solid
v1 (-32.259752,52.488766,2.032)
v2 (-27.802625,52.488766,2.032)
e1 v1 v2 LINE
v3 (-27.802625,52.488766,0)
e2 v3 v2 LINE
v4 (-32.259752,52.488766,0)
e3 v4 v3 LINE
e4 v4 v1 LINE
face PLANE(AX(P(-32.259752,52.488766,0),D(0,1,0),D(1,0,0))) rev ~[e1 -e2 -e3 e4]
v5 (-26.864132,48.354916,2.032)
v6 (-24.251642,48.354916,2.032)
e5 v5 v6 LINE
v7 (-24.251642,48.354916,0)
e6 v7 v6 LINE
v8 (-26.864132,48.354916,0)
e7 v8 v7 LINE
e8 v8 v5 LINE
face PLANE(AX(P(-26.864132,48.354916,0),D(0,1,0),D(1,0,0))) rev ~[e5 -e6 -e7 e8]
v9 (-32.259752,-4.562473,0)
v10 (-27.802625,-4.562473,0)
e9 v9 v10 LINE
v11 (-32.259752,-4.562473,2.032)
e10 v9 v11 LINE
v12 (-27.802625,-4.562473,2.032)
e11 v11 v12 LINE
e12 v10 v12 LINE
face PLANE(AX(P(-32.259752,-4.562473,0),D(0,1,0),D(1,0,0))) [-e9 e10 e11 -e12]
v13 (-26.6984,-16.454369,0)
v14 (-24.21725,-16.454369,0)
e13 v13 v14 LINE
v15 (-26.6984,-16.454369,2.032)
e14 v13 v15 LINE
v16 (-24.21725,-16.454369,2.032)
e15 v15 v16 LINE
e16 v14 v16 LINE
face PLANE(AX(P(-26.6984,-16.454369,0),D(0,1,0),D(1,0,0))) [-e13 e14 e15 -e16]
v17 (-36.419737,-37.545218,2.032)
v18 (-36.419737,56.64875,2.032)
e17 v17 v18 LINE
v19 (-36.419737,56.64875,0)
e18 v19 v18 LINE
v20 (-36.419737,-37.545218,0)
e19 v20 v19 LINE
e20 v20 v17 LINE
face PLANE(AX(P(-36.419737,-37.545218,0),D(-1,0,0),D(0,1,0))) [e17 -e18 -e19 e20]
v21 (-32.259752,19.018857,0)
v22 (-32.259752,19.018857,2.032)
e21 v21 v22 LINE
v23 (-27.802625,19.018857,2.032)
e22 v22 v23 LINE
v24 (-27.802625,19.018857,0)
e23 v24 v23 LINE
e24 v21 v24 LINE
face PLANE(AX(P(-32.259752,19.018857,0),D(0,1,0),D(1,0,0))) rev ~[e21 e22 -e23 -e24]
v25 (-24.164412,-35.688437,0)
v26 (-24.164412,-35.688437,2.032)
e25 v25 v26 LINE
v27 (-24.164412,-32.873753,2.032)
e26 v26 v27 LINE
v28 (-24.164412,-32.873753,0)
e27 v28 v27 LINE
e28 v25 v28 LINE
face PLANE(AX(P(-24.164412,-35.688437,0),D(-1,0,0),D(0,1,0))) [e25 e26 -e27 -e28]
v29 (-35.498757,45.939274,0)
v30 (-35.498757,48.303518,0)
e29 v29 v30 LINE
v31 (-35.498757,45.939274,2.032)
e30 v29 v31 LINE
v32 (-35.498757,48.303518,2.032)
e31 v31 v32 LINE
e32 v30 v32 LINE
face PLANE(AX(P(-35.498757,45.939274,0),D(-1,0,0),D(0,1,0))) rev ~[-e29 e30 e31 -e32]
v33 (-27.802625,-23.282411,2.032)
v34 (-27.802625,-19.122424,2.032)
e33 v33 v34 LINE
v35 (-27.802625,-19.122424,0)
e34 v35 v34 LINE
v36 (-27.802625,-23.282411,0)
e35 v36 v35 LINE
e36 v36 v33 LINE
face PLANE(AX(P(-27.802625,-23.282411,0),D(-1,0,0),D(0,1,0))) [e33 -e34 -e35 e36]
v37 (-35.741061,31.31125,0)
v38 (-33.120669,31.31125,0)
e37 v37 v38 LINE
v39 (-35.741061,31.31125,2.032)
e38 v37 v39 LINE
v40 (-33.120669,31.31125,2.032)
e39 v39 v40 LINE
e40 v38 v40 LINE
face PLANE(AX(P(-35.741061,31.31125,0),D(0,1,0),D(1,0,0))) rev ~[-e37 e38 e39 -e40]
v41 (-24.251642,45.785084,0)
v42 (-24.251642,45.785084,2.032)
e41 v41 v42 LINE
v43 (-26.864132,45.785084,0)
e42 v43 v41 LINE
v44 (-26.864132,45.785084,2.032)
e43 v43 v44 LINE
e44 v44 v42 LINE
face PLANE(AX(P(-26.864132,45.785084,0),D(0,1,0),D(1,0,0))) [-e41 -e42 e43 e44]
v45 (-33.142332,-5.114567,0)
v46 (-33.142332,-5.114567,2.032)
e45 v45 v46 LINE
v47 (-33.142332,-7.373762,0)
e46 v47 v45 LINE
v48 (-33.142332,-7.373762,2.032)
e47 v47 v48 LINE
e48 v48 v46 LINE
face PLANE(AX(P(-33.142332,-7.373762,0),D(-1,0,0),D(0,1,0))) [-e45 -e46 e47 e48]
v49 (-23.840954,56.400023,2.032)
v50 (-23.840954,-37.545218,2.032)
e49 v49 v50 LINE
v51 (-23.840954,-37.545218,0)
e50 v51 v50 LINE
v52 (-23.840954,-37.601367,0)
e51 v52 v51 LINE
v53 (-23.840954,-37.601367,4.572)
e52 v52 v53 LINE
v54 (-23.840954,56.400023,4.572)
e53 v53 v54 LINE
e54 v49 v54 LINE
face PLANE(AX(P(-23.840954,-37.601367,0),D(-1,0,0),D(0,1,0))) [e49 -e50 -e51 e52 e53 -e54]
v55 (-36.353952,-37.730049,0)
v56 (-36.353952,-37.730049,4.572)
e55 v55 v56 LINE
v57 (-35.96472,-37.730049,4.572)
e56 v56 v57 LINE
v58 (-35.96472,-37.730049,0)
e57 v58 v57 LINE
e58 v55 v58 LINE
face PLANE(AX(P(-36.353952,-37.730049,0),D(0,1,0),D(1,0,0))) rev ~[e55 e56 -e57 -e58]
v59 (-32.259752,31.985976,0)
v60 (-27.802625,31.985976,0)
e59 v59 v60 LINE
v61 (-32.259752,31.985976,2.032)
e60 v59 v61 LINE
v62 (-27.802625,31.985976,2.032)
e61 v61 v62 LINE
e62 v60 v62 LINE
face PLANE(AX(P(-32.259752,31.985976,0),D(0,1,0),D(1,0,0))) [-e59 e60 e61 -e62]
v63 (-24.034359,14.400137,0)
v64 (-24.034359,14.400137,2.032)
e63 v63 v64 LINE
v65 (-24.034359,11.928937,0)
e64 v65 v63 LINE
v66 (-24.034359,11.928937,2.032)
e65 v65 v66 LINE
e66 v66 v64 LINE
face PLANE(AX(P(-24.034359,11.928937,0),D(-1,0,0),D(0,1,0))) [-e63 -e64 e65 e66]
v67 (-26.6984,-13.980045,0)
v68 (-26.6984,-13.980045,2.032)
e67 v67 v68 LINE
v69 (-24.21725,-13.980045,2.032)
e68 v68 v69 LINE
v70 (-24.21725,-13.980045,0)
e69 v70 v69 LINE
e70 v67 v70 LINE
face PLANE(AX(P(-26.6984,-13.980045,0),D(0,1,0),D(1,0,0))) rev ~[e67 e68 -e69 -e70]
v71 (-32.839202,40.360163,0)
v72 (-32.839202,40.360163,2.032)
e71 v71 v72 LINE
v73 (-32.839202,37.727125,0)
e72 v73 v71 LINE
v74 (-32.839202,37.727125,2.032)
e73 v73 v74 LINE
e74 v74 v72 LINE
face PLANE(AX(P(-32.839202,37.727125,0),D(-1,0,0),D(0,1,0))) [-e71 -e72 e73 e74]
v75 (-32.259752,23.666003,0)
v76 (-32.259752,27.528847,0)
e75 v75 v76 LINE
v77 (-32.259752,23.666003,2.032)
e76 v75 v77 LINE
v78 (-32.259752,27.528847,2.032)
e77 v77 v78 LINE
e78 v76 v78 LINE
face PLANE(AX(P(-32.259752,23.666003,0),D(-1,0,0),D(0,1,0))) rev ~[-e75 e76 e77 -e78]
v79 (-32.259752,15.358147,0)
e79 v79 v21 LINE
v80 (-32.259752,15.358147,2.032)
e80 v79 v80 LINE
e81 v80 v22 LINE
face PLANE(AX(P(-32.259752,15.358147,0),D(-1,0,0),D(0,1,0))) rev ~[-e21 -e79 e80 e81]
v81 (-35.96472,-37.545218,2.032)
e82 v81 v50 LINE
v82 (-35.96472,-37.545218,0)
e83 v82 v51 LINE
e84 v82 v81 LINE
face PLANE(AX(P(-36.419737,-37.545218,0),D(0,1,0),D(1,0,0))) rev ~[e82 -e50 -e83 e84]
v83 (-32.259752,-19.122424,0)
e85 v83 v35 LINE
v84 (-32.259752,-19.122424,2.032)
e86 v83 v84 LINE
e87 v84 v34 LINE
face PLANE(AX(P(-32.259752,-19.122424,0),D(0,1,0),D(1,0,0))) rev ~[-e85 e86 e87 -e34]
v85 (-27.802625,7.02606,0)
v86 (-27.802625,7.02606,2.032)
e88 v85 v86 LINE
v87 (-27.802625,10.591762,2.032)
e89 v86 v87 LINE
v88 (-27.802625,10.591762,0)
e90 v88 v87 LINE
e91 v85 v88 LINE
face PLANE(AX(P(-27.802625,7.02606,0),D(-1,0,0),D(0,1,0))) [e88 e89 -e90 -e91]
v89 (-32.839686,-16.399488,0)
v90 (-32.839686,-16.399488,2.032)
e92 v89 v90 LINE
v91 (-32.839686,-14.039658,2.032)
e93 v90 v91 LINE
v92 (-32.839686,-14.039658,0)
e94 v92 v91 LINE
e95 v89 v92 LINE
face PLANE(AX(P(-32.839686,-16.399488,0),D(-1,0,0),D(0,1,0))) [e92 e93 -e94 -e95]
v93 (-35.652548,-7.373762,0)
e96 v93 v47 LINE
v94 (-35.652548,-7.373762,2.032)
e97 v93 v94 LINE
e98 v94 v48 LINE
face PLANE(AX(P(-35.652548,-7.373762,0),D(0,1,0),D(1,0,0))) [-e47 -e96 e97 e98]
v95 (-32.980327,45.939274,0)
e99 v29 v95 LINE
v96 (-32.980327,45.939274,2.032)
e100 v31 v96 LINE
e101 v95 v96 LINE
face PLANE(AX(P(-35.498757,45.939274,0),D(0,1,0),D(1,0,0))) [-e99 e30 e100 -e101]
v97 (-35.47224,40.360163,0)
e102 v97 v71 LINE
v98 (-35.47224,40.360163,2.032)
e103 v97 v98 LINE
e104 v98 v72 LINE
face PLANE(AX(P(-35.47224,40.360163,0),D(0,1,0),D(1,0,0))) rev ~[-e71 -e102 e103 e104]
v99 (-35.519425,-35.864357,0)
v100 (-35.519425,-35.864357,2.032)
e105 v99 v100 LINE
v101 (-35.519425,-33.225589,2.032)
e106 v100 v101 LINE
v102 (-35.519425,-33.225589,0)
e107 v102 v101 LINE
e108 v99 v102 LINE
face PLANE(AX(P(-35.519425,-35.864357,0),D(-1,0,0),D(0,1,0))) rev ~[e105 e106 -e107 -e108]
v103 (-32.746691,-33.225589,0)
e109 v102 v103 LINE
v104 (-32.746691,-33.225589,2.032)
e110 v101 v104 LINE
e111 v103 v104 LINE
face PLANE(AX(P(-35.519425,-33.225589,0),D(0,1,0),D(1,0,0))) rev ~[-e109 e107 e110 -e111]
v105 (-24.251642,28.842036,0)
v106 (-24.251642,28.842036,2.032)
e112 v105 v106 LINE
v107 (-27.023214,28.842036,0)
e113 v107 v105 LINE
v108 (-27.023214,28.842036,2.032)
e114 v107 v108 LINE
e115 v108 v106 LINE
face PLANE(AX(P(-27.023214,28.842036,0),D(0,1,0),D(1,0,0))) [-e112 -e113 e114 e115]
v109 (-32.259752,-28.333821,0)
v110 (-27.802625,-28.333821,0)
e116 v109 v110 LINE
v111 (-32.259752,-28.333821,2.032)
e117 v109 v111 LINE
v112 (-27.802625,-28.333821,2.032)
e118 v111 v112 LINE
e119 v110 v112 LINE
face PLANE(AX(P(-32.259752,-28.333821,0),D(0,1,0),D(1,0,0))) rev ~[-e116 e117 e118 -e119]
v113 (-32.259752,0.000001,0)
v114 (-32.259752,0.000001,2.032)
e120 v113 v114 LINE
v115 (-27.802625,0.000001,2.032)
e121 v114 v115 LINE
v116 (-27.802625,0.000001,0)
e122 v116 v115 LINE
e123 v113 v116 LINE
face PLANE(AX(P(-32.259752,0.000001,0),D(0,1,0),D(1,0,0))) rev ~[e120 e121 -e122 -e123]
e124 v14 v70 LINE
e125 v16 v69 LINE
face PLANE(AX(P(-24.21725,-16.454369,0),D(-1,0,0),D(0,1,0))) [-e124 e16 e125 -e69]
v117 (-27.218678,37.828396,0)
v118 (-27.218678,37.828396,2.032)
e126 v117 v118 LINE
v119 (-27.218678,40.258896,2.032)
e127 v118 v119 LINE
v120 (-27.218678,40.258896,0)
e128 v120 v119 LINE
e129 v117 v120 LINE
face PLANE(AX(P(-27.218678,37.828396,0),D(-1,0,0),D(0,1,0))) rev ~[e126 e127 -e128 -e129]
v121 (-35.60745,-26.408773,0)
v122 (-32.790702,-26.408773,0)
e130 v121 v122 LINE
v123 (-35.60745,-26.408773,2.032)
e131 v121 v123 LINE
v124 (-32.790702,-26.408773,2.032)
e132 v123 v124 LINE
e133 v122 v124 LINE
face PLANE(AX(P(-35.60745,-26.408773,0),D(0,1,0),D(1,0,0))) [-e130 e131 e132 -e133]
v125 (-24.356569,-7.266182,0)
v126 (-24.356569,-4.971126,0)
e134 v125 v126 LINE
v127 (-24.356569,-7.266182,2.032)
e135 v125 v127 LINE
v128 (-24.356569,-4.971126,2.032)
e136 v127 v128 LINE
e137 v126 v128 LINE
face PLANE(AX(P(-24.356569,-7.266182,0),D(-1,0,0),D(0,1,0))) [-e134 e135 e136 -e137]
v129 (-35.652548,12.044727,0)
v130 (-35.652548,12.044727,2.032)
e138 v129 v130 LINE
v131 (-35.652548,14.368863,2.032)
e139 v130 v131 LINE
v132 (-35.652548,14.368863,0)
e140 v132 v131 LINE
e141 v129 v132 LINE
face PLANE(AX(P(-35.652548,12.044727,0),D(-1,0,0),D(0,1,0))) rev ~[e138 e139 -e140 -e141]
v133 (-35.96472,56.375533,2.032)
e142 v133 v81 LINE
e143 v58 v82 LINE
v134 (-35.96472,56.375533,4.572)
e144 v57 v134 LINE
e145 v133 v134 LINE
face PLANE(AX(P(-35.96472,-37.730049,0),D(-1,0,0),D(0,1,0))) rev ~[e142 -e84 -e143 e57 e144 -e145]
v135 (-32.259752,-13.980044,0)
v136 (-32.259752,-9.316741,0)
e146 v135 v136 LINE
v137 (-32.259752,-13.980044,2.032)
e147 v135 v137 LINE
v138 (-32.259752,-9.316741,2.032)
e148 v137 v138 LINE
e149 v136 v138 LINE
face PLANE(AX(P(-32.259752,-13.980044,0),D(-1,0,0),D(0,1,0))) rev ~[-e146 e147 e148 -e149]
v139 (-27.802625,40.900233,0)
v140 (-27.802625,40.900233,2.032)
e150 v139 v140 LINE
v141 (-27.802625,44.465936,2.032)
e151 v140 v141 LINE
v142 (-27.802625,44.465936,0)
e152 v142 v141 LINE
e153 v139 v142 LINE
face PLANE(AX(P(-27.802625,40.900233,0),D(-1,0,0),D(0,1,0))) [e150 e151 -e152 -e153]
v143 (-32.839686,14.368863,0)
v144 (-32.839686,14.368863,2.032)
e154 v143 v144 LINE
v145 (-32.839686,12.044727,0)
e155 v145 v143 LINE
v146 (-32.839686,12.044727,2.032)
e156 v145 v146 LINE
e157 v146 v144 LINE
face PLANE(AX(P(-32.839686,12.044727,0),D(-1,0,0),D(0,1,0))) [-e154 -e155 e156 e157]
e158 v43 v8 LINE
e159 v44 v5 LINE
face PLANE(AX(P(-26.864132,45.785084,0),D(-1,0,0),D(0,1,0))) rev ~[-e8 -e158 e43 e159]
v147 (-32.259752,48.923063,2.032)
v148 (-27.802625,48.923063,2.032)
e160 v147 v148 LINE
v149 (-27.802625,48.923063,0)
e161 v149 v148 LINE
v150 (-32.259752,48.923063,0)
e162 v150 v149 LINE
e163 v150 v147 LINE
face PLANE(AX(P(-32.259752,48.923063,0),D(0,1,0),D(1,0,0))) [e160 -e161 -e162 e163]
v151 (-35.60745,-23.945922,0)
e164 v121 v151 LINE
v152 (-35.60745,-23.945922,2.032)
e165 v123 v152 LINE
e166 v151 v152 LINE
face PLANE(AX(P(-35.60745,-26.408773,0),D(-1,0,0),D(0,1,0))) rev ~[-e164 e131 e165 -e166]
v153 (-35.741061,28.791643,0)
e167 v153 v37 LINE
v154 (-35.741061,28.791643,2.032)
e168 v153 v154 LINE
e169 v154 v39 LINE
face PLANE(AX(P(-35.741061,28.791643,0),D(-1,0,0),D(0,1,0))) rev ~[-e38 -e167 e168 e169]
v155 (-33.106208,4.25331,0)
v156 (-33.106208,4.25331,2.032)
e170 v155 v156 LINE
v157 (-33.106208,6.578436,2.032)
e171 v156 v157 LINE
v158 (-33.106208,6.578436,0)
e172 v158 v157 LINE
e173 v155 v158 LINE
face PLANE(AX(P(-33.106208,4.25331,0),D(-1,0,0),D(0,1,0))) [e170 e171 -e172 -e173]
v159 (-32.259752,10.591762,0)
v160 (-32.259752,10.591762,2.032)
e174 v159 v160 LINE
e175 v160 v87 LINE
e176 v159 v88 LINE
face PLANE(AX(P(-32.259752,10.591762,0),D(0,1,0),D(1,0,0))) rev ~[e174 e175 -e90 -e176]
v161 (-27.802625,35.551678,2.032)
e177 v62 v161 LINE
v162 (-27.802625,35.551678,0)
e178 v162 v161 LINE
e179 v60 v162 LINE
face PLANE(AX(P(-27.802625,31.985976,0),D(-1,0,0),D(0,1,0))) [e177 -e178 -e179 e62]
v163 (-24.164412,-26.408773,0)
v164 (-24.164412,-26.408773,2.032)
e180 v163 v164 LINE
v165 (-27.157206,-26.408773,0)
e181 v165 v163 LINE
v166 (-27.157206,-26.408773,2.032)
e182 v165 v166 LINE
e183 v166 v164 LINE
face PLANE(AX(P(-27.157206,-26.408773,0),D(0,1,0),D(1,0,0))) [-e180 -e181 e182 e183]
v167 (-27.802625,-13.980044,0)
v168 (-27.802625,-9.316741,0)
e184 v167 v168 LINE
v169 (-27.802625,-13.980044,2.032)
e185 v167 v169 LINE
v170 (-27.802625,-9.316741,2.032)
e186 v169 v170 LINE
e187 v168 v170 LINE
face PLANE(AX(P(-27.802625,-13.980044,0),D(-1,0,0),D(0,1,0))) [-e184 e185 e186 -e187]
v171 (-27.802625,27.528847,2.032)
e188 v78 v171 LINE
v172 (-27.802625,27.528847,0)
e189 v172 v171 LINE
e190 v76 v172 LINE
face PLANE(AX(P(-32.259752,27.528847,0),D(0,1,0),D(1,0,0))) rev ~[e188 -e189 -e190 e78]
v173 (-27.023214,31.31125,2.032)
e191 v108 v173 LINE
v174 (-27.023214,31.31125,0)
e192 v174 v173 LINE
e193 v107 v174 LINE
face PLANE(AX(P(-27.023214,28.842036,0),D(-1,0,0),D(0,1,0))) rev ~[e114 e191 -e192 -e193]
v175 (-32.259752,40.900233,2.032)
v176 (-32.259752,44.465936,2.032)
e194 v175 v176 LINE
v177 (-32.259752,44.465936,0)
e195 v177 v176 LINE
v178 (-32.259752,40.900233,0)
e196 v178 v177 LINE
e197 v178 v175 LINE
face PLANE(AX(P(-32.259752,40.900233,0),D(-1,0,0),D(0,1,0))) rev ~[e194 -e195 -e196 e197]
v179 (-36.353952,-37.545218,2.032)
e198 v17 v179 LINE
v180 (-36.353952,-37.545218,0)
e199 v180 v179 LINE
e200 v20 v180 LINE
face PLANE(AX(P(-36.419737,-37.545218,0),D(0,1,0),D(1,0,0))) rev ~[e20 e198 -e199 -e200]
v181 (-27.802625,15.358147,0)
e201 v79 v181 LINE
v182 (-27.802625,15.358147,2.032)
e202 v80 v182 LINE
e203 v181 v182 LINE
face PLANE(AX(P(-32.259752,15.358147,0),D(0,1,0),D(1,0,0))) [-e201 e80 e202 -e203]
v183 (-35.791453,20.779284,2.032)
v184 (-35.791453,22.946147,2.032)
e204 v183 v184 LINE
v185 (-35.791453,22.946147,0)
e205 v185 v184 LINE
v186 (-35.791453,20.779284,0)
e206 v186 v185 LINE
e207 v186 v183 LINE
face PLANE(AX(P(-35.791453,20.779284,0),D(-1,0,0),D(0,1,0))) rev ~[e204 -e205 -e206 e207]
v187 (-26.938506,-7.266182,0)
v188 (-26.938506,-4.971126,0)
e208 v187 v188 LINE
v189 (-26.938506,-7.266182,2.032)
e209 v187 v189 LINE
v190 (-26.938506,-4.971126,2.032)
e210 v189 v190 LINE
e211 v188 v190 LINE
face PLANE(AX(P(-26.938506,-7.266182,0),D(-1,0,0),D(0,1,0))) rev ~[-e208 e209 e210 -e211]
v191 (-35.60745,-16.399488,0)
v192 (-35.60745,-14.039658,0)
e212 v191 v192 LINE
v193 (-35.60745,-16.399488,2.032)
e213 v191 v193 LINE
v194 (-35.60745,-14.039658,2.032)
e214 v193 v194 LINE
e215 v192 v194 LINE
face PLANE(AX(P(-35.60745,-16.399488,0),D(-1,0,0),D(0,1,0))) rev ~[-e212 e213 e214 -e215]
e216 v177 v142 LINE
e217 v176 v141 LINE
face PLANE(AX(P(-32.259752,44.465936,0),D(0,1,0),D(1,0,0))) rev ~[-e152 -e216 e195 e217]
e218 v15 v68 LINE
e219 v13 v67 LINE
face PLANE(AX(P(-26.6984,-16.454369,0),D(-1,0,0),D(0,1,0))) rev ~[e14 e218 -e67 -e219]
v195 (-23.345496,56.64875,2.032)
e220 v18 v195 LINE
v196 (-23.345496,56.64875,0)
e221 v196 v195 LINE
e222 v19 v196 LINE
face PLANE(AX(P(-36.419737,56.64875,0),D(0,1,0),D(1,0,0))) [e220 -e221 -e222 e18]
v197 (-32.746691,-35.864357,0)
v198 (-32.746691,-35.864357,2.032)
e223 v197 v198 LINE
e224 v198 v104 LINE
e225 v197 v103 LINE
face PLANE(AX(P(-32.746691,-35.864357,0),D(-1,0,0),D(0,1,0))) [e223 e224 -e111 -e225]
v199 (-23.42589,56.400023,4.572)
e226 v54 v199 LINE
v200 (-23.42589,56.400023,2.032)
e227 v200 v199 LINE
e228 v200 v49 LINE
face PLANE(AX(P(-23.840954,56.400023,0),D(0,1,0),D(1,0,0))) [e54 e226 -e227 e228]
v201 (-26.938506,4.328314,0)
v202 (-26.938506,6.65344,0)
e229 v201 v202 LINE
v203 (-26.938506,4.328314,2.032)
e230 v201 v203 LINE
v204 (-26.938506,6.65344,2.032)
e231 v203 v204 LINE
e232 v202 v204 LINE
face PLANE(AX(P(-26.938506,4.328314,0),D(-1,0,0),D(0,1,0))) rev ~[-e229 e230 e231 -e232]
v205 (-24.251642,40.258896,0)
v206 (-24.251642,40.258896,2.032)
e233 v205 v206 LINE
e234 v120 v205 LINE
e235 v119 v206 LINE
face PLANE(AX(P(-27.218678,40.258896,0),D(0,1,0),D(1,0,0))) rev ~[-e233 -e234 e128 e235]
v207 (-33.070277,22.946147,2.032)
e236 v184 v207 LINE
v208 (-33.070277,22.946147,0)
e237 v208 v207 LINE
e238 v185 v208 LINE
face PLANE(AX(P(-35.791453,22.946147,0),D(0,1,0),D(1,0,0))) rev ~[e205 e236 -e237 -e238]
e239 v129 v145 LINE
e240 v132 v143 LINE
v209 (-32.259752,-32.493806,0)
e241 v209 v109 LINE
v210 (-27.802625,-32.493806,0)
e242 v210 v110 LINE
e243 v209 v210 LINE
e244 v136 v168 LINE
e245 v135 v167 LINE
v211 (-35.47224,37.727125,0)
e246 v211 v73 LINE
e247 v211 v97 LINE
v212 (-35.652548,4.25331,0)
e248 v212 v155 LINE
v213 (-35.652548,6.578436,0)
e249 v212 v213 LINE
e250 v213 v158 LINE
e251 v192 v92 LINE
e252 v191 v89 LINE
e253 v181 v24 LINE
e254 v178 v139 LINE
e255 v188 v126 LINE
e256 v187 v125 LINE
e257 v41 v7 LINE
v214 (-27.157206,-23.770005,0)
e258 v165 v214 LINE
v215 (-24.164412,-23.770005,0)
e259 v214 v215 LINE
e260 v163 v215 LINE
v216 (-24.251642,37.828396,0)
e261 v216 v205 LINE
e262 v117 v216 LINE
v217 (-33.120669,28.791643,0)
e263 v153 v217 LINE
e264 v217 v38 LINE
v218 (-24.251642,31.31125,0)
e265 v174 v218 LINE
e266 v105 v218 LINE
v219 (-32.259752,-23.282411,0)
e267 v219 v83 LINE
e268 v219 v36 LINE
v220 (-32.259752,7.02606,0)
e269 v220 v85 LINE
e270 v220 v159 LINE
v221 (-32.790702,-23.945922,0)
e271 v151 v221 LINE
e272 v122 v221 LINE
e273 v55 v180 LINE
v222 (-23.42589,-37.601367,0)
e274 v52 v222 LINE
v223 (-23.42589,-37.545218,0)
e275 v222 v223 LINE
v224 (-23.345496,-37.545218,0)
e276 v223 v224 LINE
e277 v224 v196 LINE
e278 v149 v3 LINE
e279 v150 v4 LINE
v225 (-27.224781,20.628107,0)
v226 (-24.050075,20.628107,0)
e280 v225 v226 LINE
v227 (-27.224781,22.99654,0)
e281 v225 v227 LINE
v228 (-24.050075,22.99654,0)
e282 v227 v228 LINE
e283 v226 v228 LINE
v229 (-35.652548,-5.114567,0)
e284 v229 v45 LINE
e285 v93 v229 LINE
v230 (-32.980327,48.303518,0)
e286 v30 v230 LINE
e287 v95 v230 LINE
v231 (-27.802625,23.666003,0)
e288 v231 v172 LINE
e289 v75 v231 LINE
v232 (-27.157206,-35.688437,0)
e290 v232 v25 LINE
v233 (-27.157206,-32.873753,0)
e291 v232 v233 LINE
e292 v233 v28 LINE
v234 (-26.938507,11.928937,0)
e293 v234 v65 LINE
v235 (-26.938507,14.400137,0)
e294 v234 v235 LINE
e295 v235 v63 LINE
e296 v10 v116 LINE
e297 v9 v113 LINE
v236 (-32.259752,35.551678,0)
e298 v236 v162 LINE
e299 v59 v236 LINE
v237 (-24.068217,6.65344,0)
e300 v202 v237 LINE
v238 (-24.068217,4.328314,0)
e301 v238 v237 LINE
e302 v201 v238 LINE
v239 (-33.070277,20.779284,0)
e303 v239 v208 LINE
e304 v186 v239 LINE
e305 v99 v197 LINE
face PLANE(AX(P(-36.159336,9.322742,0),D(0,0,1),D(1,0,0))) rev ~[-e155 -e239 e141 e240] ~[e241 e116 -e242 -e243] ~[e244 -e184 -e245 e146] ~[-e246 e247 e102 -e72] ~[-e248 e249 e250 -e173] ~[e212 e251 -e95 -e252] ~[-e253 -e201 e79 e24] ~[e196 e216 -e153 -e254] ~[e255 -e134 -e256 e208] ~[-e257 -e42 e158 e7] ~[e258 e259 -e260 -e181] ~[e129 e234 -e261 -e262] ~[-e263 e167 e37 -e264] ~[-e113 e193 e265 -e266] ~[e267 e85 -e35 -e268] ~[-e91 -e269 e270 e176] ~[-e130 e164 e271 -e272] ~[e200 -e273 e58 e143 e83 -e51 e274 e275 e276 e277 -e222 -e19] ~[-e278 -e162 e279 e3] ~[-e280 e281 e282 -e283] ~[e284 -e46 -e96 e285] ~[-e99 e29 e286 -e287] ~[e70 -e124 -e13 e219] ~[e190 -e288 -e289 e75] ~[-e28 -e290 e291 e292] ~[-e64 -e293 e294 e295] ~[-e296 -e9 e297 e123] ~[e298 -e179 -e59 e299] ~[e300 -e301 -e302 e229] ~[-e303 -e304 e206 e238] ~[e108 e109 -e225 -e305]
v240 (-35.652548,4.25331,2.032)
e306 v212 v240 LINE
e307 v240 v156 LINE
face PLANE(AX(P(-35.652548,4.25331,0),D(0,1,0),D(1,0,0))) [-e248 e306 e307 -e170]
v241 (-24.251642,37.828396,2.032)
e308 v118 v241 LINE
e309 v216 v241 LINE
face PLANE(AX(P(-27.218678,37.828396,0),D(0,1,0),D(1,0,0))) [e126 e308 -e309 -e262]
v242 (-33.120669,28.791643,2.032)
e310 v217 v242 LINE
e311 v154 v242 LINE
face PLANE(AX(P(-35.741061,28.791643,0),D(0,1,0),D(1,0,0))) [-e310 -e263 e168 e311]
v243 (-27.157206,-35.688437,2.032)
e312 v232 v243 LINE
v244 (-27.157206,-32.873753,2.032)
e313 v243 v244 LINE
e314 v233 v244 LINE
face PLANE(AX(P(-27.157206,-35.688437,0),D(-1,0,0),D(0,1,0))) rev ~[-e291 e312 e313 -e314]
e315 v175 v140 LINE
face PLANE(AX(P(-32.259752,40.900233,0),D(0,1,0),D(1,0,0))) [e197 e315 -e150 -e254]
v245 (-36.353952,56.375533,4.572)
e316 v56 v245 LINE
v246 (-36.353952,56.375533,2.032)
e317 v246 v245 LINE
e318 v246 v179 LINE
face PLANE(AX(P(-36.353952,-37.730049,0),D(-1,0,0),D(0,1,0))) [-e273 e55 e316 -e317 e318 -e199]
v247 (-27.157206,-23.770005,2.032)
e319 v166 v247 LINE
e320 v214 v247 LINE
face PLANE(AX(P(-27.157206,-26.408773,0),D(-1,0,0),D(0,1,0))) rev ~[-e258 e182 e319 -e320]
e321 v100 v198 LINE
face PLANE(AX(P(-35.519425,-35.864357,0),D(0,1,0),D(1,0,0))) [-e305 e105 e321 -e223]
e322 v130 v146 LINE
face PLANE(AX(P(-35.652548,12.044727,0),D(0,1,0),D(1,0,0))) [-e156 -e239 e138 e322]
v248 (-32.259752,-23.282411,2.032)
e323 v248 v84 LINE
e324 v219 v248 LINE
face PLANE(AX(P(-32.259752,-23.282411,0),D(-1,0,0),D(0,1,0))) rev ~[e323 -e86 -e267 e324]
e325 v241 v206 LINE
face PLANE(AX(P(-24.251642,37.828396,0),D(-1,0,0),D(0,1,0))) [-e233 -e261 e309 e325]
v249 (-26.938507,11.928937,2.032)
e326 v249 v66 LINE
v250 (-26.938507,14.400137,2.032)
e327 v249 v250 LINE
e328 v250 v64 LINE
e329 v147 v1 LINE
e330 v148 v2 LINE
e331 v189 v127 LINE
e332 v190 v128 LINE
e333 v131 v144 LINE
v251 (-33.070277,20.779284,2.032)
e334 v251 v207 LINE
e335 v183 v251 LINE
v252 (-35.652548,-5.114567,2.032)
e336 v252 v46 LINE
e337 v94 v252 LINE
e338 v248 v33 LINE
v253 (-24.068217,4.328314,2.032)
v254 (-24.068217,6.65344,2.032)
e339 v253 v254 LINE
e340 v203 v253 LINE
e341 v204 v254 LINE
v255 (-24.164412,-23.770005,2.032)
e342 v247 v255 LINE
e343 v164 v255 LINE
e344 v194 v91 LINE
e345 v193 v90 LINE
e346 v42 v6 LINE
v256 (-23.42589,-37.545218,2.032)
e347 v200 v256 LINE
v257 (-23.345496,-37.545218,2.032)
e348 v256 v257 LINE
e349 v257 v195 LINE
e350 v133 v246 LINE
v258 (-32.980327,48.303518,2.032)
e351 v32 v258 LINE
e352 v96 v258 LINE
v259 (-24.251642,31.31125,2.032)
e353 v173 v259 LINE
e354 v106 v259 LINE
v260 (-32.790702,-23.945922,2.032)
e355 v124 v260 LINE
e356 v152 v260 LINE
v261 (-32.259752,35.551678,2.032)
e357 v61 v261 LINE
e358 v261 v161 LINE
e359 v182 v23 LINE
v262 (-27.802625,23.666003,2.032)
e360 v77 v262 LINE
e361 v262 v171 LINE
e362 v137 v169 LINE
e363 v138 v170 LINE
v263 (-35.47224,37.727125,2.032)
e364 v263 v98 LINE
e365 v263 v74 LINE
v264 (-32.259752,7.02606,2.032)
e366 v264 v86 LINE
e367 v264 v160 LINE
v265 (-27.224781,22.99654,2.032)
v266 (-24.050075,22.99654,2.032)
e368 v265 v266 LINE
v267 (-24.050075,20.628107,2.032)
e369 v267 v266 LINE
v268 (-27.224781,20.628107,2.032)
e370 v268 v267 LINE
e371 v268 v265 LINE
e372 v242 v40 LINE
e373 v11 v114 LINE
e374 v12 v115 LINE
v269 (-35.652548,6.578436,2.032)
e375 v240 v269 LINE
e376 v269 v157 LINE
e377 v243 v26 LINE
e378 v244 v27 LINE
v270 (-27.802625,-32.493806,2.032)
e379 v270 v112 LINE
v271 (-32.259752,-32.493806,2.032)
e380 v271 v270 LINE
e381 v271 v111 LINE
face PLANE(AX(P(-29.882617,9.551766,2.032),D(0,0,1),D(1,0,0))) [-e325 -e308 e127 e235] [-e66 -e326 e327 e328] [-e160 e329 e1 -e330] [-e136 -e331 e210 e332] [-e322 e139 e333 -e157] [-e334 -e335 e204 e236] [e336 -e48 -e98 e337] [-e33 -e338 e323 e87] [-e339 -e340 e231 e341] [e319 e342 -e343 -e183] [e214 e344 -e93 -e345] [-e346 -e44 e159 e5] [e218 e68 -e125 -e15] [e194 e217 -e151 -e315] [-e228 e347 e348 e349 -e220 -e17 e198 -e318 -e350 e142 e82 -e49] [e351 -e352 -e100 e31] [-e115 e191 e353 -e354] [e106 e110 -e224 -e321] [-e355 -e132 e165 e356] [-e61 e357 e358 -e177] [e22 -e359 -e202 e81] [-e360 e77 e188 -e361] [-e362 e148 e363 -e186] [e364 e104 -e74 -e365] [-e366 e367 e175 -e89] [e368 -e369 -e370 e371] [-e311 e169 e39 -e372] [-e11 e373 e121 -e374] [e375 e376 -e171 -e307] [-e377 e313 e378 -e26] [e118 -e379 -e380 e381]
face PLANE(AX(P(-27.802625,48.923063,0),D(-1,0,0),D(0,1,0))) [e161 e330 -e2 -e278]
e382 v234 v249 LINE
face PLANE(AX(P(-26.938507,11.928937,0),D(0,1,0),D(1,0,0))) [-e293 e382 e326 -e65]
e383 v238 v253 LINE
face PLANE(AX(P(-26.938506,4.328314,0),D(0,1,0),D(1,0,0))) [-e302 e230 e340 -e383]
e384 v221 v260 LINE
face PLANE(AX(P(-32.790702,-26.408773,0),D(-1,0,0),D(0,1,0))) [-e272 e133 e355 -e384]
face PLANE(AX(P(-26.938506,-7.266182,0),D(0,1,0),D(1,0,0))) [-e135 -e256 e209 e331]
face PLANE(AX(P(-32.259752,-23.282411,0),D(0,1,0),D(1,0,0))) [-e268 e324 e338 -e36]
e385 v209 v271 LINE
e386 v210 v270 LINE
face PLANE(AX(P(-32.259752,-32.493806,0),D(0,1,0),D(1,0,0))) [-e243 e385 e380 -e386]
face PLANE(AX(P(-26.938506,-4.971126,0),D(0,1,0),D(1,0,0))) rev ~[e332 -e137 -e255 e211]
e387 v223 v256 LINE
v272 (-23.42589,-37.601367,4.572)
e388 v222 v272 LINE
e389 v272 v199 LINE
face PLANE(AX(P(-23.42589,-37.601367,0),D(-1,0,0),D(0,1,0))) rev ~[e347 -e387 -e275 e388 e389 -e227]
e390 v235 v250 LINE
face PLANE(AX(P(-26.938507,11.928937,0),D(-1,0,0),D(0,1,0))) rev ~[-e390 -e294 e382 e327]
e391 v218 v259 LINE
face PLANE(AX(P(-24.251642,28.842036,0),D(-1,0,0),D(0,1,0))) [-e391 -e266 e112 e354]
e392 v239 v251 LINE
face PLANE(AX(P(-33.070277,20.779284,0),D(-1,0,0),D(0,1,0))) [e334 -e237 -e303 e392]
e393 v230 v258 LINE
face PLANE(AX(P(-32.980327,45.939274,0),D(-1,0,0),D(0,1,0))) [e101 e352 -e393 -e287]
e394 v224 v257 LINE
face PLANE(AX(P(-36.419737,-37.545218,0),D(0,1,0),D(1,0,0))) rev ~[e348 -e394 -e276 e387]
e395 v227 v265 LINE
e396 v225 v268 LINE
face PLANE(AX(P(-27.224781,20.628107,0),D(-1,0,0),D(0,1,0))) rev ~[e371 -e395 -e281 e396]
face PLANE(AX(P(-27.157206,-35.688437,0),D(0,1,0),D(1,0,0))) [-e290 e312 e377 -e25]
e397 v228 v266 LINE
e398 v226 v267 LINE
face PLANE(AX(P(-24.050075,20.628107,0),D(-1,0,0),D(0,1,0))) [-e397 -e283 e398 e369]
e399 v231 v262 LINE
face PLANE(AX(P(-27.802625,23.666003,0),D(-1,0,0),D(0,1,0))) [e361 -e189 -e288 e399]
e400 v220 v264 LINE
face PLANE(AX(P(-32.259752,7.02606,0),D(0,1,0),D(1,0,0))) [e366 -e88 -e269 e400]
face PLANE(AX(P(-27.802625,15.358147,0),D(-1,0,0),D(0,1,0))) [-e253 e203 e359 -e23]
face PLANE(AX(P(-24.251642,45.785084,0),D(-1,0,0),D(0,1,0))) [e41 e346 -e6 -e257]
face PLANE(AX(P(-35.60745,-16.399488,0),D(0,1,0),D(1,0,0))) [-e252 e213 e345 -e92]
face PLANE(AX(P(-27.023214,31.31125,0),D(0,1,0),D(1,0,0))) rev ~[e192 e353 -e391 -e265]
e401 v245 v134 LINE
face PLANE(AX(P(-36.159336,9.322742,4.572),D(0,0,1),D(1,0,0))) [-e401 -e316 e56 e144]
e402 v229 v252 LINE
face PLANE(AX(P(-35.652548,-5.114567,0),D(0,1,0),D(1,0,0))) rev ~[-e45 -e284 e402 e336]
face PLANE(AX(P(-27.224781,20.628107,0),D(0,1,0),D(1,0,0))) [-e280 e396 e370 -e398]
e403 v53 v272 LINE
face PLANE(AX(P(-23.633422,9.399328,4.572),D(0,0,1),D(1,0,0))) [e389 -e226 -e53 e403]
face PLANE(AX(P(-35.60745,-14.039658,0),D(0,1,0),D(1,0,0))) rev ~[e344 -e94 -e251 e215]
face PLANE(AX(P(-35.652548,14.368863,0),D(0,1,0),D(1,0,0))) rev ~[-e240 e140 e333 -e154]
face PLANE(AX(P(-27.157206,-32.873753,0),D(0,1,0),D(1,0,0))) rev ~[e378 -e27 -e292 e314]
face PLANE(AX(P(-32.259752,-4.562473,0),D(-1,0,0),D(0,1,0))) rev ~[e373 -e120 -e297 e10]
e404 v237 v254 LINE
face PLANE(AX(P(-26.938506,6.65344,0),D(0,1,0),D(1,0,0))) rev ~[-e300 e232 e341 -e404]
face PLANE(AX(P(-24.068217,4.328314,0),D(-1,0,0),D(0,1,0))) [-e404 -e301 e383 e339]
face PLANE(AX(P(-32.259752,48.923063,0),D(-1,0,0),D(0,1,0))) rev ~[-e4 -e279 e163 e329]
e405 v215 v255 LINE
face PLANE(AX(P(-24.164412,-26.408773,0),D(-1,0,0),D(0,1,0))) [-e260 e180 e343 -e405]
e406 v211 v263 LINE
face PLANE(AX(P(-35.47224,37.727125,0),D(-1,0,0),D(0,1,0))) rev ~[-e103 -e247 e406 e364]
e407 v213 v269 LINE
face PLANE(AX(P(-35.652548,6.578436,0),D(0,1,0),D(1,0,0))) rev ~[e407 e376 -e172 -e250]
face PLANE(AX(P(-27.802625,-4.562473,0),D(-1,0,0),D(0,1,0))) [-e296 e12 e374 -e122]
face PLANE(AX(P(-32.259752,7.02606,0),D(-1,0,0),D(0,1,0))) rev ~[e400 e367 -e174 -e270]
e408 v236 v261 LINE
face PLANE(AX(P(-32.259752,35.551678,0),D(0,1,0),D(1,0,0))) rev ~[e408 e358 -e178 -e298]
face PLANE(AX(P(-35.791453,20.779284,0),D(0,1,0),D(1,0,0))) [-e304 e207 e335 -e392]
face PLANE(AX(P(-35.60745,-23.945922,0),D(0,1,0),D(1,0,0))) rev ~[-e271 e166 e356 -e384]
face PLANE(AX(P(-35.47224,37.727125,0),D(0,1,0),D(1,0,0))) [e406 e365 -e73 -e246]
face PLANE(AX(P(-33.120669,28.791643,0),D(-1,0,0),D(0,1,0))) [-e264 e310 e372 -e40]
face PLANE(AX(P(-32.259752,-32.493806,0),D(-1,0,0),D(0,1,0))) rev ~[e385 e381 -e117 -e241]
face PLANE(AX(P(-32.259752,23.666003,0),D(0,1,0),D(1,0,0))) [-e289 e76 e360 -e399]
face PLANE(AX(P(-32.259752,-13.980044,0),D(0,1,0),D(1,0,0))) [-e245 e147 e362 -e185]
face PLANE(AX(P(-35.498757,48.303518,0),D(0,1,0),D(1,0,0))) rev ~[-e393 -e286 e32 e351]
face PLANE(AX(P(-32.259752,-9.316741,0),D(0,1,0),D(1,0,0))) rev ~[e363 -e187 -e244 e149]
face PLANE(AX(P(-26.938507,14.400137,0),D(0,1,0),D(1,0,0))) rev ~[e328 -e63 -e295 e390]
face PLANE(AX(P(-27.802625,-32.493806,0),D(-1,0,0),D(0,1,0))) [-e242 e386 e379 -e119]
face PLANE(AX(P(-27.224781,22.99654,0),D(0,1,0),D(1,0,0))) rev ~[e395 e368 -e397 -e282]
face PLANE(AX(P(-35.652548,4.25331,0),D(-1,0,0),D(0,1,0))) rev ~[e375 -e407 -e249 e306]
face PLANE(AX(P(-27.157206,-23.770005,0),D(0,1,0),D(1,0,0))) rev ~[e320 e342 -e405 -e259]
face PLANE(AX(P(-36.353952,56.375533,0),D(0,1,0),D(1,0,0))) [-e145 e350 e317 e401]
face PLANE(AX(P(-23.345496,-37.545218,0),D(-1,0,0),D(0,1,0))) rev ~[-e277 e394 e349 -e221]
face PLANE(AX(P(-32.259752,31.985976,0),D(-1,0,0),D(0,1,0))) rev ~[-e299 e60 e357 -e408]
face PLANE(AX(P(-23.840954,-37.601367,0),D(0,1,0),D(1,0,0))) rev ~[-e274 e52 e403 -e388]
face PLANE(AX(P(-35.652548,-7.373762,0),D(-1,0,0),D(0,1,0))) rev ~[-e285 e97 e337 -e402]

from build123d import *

# Parameters (mm, degrees)
F0_W     = 13.074241
F0_H     = 94.193969
F0_W_2   = 2.772734
F0_H_2   = 2.638768
F0_W_3   = 2.816748
F0_H_3   = 2.462851
F0_W_4   = 2.767764
F0_H_4   = 2.35983
F0_W_5   = 4.457127
F0_H_5   = 4.159985
F0_H_6   = 4.159987
F0_W_6   = 2.510216
F0_H_7   = 2.259195
F0_W_7   = 2.54634
F0_H_8   = 2.325126
F0_H_9   = 4.663303
F0_H_10  = 4.562473
F0_H_11  = 3.565702
F0_W_8   = 2.992794
F0_H_12  = 2.814685
F0_W_9   = 2.481149
F0_H_13  = 2.474324
F0_W_10  = 2.581937
F0_H_14  = 2.295056
F0_W_11  = 2.870289
F0_W_12  = 2.812862
F0_H_15  = 2.324136
F0_W_13  = 2.721176
F0_H_16  = 2.166863
F0_W_14  = 2.620392
F0_H_17  = 2.519607
F0_H_18  = 3.660711
F0_H_19  = 3.862843
F0_W_15  = 2.633039
F0_H_20  = 2.633039
F0_W_16  = 2.51843
F0_H_21  = 2.364244
F0_H_22  = 3.565703
F0_W_17  = 2.904148
F0_H_23  = 2.471199
F0_W_18  = 3.174707
F0_H_24  = 2.368433
F0_W_19  = 2.771571
F0_H_25  = 2.469215
F0_W_20  = 2.967037
F0_H_26  = 2.430499
F0_W_21  = 2.61249
F0_H_27  = 2.569832
F1_DEPTH = 2.032
F2_W     = 0.389233
F2_H     = 94.105582
F2_W_2   = 0.415065
F2_H_2   = 94.00139
F3_DEPTH = 4.572


with BuildPart() as f1:
    # F0 (on Top) → F1 (new body)
    with BuildSketch(Plane.XY):
        with Locations((-29.882617, 9.551766)):
            Rectangle(F0_W, F0_H)
        with Locations((-34.133058, -34.544973)):
            Rectangle(F0_W_2, F0_H_2, mode=Mode.SUBTRACT)
        with Locations((-34.199076, -25.177347)):
            Rectangle(F0_W_3, F0_H_3, mode=Mode.SUBTRACT)
        with Locations((-34.223568, -15.219573)):
            Rectangle(F0_W_4, F0_H_4, mode=Mode.SUBTRACT)
        with Locations((-30.031188, -30.413814)):
            Rectangle(F0_W_5, F0_H_5, mode=Mode.SUBTRACT)
        with Locations((-30.031188, -21.202417)):
            Rectangle(F0_W_5, F0_H_6, mode=Mode.SUBTRACT)
        with Locations((-34.39744, -6.244165)):
            Rectangle(F0_W_6, F0_H_7, mode=Mode.SUBTRACT)
        with Locations((-34.379378, 5.415873)):
            Rectangle(F0_W_7, F0_H_8, mode=Mode.SUBTRACT)
        with Locations((-30.031188, -11.648393)):
            Rectangle(F0_W_5, F0_H_9, mode=Mode.SUBTRACT)
        with Locations((-30.031188, -2.281236)):
            Rectangle(F0_W_5, F0_H_10, mode=Mode.SUBTRACT)
        with Locations((-30.031188, 8.808911)):
            Rectangle(F0_W_5, F0_H_11, mode=Mode.SUBTRACT)
        with Locations((-25.660809, -34.281095)):
            Rectangle(F0_W_8, F0_H_12, mode=Mode.SUBTRACT)
        with Locations((-25.660809, -25.089389)):
            Rectangle(F0_W_8, F0_H_2, mode=Mode.SUBTRACT)
        with Locations((-25.457825, -15.217207)):
            Rectangle(F0_W_9, F0_H_13, mode=Mode.SUBTRACT)
        with Locations((-25.647538, -6.118654)):
            Rectangle(F0_W_10, F0_H_14, mode=Mode.SUBTRACT)
        with Locations((-25.503362, 5.490877)):
            Rectangle(F0_W_11, F0_H_8, mode=Mode.SUBTRACT)
        with Locations((-34.246117, 13.206795)):
            Rectangle(F0_W_12, F0_H_15, mode=Mode.SUBTRACT)
        with Locations((-34.430865, 21.862716)):
            Rectangle(F0_W_13, F0_H_16, mode=Mode.SUBTRACT)
        with Locations((-34.430865, 30.051447)):
            Rectangle(F0_W_14, F0_H_17, mode=Mode.SUBTRACT)
        with Locations((-30.031188, 17.188502)):
            Rectangle(F0_W_5, F0_H_18, mode=Mode.SUBTRACT)
        with Locations((-30.031188, 25.597425)):
            Rectangle(F0_W_5, F0_H_19, mode=Mode.SUBTRACT)
        with Locations((-34.155721, 39.043644)):
            Rectangle(F0_W_15, F0_H_20, mode=Mode.SUBTRACT)
        with Locations((-34.239542, 47.121396)):
            Rectangle(F0_W_16, F0_H_21, mode=Mode.SUBTRACT)
        with Locations((-30.031188, 33.768827)):
            Rectangle(F0_W_5, F0_H_11, mode=Mode.SUBTRACT)
        with Locations((-30.031188, 42.683085)):
            Rectangle(F0_W_5, F0_H_22, mode=Mode.SUBTRACT)
        with Locations((-30.031188, 50.705915)):
            Rectangle(F0_W_5, F0_H_22, mode=Mode.SUBTRACT)
        with Locations((-25.486433, 13.164537)):
            Rectangle(F0_W_17, F0_H_23, mode=Mode.SUBTRACT)
        with Locations((-25.637428, 21.812324)):
            Rectangle(F0_W_18, F0_H_24, mode=Mode.SUBTRACT)
        with Locations((-25.637428, 30.076643)):
            Rectangle(F0_W_19, F0_H_25, mode=Mode.SUBTRACT)
        with Locations((-25.73516, 39.043646)):
            Rectangle(F0_W_20, F0_H_26, mode=Mode.SUBTRACT)
        with Locations((-25.557887, 47.07)):
            Rectangle(F0_W_21, F0_H_27, mode=Mode.SUBTRACT)
    extrude(amount=F1_DEPTH)

    # F2 (on Top) → F3 (join)
    with BuildSketch(Plane.XY):
        with Locations((-36.159336, 9.322742)):
            Rectangle(F2_W, F2_H)
        with Locations((-23.633422, 9.399328)):
            Rectangle(F2_W_2, F2_H_2)
    extrude(amount=F3_DEPTH)


solid = f1.part
